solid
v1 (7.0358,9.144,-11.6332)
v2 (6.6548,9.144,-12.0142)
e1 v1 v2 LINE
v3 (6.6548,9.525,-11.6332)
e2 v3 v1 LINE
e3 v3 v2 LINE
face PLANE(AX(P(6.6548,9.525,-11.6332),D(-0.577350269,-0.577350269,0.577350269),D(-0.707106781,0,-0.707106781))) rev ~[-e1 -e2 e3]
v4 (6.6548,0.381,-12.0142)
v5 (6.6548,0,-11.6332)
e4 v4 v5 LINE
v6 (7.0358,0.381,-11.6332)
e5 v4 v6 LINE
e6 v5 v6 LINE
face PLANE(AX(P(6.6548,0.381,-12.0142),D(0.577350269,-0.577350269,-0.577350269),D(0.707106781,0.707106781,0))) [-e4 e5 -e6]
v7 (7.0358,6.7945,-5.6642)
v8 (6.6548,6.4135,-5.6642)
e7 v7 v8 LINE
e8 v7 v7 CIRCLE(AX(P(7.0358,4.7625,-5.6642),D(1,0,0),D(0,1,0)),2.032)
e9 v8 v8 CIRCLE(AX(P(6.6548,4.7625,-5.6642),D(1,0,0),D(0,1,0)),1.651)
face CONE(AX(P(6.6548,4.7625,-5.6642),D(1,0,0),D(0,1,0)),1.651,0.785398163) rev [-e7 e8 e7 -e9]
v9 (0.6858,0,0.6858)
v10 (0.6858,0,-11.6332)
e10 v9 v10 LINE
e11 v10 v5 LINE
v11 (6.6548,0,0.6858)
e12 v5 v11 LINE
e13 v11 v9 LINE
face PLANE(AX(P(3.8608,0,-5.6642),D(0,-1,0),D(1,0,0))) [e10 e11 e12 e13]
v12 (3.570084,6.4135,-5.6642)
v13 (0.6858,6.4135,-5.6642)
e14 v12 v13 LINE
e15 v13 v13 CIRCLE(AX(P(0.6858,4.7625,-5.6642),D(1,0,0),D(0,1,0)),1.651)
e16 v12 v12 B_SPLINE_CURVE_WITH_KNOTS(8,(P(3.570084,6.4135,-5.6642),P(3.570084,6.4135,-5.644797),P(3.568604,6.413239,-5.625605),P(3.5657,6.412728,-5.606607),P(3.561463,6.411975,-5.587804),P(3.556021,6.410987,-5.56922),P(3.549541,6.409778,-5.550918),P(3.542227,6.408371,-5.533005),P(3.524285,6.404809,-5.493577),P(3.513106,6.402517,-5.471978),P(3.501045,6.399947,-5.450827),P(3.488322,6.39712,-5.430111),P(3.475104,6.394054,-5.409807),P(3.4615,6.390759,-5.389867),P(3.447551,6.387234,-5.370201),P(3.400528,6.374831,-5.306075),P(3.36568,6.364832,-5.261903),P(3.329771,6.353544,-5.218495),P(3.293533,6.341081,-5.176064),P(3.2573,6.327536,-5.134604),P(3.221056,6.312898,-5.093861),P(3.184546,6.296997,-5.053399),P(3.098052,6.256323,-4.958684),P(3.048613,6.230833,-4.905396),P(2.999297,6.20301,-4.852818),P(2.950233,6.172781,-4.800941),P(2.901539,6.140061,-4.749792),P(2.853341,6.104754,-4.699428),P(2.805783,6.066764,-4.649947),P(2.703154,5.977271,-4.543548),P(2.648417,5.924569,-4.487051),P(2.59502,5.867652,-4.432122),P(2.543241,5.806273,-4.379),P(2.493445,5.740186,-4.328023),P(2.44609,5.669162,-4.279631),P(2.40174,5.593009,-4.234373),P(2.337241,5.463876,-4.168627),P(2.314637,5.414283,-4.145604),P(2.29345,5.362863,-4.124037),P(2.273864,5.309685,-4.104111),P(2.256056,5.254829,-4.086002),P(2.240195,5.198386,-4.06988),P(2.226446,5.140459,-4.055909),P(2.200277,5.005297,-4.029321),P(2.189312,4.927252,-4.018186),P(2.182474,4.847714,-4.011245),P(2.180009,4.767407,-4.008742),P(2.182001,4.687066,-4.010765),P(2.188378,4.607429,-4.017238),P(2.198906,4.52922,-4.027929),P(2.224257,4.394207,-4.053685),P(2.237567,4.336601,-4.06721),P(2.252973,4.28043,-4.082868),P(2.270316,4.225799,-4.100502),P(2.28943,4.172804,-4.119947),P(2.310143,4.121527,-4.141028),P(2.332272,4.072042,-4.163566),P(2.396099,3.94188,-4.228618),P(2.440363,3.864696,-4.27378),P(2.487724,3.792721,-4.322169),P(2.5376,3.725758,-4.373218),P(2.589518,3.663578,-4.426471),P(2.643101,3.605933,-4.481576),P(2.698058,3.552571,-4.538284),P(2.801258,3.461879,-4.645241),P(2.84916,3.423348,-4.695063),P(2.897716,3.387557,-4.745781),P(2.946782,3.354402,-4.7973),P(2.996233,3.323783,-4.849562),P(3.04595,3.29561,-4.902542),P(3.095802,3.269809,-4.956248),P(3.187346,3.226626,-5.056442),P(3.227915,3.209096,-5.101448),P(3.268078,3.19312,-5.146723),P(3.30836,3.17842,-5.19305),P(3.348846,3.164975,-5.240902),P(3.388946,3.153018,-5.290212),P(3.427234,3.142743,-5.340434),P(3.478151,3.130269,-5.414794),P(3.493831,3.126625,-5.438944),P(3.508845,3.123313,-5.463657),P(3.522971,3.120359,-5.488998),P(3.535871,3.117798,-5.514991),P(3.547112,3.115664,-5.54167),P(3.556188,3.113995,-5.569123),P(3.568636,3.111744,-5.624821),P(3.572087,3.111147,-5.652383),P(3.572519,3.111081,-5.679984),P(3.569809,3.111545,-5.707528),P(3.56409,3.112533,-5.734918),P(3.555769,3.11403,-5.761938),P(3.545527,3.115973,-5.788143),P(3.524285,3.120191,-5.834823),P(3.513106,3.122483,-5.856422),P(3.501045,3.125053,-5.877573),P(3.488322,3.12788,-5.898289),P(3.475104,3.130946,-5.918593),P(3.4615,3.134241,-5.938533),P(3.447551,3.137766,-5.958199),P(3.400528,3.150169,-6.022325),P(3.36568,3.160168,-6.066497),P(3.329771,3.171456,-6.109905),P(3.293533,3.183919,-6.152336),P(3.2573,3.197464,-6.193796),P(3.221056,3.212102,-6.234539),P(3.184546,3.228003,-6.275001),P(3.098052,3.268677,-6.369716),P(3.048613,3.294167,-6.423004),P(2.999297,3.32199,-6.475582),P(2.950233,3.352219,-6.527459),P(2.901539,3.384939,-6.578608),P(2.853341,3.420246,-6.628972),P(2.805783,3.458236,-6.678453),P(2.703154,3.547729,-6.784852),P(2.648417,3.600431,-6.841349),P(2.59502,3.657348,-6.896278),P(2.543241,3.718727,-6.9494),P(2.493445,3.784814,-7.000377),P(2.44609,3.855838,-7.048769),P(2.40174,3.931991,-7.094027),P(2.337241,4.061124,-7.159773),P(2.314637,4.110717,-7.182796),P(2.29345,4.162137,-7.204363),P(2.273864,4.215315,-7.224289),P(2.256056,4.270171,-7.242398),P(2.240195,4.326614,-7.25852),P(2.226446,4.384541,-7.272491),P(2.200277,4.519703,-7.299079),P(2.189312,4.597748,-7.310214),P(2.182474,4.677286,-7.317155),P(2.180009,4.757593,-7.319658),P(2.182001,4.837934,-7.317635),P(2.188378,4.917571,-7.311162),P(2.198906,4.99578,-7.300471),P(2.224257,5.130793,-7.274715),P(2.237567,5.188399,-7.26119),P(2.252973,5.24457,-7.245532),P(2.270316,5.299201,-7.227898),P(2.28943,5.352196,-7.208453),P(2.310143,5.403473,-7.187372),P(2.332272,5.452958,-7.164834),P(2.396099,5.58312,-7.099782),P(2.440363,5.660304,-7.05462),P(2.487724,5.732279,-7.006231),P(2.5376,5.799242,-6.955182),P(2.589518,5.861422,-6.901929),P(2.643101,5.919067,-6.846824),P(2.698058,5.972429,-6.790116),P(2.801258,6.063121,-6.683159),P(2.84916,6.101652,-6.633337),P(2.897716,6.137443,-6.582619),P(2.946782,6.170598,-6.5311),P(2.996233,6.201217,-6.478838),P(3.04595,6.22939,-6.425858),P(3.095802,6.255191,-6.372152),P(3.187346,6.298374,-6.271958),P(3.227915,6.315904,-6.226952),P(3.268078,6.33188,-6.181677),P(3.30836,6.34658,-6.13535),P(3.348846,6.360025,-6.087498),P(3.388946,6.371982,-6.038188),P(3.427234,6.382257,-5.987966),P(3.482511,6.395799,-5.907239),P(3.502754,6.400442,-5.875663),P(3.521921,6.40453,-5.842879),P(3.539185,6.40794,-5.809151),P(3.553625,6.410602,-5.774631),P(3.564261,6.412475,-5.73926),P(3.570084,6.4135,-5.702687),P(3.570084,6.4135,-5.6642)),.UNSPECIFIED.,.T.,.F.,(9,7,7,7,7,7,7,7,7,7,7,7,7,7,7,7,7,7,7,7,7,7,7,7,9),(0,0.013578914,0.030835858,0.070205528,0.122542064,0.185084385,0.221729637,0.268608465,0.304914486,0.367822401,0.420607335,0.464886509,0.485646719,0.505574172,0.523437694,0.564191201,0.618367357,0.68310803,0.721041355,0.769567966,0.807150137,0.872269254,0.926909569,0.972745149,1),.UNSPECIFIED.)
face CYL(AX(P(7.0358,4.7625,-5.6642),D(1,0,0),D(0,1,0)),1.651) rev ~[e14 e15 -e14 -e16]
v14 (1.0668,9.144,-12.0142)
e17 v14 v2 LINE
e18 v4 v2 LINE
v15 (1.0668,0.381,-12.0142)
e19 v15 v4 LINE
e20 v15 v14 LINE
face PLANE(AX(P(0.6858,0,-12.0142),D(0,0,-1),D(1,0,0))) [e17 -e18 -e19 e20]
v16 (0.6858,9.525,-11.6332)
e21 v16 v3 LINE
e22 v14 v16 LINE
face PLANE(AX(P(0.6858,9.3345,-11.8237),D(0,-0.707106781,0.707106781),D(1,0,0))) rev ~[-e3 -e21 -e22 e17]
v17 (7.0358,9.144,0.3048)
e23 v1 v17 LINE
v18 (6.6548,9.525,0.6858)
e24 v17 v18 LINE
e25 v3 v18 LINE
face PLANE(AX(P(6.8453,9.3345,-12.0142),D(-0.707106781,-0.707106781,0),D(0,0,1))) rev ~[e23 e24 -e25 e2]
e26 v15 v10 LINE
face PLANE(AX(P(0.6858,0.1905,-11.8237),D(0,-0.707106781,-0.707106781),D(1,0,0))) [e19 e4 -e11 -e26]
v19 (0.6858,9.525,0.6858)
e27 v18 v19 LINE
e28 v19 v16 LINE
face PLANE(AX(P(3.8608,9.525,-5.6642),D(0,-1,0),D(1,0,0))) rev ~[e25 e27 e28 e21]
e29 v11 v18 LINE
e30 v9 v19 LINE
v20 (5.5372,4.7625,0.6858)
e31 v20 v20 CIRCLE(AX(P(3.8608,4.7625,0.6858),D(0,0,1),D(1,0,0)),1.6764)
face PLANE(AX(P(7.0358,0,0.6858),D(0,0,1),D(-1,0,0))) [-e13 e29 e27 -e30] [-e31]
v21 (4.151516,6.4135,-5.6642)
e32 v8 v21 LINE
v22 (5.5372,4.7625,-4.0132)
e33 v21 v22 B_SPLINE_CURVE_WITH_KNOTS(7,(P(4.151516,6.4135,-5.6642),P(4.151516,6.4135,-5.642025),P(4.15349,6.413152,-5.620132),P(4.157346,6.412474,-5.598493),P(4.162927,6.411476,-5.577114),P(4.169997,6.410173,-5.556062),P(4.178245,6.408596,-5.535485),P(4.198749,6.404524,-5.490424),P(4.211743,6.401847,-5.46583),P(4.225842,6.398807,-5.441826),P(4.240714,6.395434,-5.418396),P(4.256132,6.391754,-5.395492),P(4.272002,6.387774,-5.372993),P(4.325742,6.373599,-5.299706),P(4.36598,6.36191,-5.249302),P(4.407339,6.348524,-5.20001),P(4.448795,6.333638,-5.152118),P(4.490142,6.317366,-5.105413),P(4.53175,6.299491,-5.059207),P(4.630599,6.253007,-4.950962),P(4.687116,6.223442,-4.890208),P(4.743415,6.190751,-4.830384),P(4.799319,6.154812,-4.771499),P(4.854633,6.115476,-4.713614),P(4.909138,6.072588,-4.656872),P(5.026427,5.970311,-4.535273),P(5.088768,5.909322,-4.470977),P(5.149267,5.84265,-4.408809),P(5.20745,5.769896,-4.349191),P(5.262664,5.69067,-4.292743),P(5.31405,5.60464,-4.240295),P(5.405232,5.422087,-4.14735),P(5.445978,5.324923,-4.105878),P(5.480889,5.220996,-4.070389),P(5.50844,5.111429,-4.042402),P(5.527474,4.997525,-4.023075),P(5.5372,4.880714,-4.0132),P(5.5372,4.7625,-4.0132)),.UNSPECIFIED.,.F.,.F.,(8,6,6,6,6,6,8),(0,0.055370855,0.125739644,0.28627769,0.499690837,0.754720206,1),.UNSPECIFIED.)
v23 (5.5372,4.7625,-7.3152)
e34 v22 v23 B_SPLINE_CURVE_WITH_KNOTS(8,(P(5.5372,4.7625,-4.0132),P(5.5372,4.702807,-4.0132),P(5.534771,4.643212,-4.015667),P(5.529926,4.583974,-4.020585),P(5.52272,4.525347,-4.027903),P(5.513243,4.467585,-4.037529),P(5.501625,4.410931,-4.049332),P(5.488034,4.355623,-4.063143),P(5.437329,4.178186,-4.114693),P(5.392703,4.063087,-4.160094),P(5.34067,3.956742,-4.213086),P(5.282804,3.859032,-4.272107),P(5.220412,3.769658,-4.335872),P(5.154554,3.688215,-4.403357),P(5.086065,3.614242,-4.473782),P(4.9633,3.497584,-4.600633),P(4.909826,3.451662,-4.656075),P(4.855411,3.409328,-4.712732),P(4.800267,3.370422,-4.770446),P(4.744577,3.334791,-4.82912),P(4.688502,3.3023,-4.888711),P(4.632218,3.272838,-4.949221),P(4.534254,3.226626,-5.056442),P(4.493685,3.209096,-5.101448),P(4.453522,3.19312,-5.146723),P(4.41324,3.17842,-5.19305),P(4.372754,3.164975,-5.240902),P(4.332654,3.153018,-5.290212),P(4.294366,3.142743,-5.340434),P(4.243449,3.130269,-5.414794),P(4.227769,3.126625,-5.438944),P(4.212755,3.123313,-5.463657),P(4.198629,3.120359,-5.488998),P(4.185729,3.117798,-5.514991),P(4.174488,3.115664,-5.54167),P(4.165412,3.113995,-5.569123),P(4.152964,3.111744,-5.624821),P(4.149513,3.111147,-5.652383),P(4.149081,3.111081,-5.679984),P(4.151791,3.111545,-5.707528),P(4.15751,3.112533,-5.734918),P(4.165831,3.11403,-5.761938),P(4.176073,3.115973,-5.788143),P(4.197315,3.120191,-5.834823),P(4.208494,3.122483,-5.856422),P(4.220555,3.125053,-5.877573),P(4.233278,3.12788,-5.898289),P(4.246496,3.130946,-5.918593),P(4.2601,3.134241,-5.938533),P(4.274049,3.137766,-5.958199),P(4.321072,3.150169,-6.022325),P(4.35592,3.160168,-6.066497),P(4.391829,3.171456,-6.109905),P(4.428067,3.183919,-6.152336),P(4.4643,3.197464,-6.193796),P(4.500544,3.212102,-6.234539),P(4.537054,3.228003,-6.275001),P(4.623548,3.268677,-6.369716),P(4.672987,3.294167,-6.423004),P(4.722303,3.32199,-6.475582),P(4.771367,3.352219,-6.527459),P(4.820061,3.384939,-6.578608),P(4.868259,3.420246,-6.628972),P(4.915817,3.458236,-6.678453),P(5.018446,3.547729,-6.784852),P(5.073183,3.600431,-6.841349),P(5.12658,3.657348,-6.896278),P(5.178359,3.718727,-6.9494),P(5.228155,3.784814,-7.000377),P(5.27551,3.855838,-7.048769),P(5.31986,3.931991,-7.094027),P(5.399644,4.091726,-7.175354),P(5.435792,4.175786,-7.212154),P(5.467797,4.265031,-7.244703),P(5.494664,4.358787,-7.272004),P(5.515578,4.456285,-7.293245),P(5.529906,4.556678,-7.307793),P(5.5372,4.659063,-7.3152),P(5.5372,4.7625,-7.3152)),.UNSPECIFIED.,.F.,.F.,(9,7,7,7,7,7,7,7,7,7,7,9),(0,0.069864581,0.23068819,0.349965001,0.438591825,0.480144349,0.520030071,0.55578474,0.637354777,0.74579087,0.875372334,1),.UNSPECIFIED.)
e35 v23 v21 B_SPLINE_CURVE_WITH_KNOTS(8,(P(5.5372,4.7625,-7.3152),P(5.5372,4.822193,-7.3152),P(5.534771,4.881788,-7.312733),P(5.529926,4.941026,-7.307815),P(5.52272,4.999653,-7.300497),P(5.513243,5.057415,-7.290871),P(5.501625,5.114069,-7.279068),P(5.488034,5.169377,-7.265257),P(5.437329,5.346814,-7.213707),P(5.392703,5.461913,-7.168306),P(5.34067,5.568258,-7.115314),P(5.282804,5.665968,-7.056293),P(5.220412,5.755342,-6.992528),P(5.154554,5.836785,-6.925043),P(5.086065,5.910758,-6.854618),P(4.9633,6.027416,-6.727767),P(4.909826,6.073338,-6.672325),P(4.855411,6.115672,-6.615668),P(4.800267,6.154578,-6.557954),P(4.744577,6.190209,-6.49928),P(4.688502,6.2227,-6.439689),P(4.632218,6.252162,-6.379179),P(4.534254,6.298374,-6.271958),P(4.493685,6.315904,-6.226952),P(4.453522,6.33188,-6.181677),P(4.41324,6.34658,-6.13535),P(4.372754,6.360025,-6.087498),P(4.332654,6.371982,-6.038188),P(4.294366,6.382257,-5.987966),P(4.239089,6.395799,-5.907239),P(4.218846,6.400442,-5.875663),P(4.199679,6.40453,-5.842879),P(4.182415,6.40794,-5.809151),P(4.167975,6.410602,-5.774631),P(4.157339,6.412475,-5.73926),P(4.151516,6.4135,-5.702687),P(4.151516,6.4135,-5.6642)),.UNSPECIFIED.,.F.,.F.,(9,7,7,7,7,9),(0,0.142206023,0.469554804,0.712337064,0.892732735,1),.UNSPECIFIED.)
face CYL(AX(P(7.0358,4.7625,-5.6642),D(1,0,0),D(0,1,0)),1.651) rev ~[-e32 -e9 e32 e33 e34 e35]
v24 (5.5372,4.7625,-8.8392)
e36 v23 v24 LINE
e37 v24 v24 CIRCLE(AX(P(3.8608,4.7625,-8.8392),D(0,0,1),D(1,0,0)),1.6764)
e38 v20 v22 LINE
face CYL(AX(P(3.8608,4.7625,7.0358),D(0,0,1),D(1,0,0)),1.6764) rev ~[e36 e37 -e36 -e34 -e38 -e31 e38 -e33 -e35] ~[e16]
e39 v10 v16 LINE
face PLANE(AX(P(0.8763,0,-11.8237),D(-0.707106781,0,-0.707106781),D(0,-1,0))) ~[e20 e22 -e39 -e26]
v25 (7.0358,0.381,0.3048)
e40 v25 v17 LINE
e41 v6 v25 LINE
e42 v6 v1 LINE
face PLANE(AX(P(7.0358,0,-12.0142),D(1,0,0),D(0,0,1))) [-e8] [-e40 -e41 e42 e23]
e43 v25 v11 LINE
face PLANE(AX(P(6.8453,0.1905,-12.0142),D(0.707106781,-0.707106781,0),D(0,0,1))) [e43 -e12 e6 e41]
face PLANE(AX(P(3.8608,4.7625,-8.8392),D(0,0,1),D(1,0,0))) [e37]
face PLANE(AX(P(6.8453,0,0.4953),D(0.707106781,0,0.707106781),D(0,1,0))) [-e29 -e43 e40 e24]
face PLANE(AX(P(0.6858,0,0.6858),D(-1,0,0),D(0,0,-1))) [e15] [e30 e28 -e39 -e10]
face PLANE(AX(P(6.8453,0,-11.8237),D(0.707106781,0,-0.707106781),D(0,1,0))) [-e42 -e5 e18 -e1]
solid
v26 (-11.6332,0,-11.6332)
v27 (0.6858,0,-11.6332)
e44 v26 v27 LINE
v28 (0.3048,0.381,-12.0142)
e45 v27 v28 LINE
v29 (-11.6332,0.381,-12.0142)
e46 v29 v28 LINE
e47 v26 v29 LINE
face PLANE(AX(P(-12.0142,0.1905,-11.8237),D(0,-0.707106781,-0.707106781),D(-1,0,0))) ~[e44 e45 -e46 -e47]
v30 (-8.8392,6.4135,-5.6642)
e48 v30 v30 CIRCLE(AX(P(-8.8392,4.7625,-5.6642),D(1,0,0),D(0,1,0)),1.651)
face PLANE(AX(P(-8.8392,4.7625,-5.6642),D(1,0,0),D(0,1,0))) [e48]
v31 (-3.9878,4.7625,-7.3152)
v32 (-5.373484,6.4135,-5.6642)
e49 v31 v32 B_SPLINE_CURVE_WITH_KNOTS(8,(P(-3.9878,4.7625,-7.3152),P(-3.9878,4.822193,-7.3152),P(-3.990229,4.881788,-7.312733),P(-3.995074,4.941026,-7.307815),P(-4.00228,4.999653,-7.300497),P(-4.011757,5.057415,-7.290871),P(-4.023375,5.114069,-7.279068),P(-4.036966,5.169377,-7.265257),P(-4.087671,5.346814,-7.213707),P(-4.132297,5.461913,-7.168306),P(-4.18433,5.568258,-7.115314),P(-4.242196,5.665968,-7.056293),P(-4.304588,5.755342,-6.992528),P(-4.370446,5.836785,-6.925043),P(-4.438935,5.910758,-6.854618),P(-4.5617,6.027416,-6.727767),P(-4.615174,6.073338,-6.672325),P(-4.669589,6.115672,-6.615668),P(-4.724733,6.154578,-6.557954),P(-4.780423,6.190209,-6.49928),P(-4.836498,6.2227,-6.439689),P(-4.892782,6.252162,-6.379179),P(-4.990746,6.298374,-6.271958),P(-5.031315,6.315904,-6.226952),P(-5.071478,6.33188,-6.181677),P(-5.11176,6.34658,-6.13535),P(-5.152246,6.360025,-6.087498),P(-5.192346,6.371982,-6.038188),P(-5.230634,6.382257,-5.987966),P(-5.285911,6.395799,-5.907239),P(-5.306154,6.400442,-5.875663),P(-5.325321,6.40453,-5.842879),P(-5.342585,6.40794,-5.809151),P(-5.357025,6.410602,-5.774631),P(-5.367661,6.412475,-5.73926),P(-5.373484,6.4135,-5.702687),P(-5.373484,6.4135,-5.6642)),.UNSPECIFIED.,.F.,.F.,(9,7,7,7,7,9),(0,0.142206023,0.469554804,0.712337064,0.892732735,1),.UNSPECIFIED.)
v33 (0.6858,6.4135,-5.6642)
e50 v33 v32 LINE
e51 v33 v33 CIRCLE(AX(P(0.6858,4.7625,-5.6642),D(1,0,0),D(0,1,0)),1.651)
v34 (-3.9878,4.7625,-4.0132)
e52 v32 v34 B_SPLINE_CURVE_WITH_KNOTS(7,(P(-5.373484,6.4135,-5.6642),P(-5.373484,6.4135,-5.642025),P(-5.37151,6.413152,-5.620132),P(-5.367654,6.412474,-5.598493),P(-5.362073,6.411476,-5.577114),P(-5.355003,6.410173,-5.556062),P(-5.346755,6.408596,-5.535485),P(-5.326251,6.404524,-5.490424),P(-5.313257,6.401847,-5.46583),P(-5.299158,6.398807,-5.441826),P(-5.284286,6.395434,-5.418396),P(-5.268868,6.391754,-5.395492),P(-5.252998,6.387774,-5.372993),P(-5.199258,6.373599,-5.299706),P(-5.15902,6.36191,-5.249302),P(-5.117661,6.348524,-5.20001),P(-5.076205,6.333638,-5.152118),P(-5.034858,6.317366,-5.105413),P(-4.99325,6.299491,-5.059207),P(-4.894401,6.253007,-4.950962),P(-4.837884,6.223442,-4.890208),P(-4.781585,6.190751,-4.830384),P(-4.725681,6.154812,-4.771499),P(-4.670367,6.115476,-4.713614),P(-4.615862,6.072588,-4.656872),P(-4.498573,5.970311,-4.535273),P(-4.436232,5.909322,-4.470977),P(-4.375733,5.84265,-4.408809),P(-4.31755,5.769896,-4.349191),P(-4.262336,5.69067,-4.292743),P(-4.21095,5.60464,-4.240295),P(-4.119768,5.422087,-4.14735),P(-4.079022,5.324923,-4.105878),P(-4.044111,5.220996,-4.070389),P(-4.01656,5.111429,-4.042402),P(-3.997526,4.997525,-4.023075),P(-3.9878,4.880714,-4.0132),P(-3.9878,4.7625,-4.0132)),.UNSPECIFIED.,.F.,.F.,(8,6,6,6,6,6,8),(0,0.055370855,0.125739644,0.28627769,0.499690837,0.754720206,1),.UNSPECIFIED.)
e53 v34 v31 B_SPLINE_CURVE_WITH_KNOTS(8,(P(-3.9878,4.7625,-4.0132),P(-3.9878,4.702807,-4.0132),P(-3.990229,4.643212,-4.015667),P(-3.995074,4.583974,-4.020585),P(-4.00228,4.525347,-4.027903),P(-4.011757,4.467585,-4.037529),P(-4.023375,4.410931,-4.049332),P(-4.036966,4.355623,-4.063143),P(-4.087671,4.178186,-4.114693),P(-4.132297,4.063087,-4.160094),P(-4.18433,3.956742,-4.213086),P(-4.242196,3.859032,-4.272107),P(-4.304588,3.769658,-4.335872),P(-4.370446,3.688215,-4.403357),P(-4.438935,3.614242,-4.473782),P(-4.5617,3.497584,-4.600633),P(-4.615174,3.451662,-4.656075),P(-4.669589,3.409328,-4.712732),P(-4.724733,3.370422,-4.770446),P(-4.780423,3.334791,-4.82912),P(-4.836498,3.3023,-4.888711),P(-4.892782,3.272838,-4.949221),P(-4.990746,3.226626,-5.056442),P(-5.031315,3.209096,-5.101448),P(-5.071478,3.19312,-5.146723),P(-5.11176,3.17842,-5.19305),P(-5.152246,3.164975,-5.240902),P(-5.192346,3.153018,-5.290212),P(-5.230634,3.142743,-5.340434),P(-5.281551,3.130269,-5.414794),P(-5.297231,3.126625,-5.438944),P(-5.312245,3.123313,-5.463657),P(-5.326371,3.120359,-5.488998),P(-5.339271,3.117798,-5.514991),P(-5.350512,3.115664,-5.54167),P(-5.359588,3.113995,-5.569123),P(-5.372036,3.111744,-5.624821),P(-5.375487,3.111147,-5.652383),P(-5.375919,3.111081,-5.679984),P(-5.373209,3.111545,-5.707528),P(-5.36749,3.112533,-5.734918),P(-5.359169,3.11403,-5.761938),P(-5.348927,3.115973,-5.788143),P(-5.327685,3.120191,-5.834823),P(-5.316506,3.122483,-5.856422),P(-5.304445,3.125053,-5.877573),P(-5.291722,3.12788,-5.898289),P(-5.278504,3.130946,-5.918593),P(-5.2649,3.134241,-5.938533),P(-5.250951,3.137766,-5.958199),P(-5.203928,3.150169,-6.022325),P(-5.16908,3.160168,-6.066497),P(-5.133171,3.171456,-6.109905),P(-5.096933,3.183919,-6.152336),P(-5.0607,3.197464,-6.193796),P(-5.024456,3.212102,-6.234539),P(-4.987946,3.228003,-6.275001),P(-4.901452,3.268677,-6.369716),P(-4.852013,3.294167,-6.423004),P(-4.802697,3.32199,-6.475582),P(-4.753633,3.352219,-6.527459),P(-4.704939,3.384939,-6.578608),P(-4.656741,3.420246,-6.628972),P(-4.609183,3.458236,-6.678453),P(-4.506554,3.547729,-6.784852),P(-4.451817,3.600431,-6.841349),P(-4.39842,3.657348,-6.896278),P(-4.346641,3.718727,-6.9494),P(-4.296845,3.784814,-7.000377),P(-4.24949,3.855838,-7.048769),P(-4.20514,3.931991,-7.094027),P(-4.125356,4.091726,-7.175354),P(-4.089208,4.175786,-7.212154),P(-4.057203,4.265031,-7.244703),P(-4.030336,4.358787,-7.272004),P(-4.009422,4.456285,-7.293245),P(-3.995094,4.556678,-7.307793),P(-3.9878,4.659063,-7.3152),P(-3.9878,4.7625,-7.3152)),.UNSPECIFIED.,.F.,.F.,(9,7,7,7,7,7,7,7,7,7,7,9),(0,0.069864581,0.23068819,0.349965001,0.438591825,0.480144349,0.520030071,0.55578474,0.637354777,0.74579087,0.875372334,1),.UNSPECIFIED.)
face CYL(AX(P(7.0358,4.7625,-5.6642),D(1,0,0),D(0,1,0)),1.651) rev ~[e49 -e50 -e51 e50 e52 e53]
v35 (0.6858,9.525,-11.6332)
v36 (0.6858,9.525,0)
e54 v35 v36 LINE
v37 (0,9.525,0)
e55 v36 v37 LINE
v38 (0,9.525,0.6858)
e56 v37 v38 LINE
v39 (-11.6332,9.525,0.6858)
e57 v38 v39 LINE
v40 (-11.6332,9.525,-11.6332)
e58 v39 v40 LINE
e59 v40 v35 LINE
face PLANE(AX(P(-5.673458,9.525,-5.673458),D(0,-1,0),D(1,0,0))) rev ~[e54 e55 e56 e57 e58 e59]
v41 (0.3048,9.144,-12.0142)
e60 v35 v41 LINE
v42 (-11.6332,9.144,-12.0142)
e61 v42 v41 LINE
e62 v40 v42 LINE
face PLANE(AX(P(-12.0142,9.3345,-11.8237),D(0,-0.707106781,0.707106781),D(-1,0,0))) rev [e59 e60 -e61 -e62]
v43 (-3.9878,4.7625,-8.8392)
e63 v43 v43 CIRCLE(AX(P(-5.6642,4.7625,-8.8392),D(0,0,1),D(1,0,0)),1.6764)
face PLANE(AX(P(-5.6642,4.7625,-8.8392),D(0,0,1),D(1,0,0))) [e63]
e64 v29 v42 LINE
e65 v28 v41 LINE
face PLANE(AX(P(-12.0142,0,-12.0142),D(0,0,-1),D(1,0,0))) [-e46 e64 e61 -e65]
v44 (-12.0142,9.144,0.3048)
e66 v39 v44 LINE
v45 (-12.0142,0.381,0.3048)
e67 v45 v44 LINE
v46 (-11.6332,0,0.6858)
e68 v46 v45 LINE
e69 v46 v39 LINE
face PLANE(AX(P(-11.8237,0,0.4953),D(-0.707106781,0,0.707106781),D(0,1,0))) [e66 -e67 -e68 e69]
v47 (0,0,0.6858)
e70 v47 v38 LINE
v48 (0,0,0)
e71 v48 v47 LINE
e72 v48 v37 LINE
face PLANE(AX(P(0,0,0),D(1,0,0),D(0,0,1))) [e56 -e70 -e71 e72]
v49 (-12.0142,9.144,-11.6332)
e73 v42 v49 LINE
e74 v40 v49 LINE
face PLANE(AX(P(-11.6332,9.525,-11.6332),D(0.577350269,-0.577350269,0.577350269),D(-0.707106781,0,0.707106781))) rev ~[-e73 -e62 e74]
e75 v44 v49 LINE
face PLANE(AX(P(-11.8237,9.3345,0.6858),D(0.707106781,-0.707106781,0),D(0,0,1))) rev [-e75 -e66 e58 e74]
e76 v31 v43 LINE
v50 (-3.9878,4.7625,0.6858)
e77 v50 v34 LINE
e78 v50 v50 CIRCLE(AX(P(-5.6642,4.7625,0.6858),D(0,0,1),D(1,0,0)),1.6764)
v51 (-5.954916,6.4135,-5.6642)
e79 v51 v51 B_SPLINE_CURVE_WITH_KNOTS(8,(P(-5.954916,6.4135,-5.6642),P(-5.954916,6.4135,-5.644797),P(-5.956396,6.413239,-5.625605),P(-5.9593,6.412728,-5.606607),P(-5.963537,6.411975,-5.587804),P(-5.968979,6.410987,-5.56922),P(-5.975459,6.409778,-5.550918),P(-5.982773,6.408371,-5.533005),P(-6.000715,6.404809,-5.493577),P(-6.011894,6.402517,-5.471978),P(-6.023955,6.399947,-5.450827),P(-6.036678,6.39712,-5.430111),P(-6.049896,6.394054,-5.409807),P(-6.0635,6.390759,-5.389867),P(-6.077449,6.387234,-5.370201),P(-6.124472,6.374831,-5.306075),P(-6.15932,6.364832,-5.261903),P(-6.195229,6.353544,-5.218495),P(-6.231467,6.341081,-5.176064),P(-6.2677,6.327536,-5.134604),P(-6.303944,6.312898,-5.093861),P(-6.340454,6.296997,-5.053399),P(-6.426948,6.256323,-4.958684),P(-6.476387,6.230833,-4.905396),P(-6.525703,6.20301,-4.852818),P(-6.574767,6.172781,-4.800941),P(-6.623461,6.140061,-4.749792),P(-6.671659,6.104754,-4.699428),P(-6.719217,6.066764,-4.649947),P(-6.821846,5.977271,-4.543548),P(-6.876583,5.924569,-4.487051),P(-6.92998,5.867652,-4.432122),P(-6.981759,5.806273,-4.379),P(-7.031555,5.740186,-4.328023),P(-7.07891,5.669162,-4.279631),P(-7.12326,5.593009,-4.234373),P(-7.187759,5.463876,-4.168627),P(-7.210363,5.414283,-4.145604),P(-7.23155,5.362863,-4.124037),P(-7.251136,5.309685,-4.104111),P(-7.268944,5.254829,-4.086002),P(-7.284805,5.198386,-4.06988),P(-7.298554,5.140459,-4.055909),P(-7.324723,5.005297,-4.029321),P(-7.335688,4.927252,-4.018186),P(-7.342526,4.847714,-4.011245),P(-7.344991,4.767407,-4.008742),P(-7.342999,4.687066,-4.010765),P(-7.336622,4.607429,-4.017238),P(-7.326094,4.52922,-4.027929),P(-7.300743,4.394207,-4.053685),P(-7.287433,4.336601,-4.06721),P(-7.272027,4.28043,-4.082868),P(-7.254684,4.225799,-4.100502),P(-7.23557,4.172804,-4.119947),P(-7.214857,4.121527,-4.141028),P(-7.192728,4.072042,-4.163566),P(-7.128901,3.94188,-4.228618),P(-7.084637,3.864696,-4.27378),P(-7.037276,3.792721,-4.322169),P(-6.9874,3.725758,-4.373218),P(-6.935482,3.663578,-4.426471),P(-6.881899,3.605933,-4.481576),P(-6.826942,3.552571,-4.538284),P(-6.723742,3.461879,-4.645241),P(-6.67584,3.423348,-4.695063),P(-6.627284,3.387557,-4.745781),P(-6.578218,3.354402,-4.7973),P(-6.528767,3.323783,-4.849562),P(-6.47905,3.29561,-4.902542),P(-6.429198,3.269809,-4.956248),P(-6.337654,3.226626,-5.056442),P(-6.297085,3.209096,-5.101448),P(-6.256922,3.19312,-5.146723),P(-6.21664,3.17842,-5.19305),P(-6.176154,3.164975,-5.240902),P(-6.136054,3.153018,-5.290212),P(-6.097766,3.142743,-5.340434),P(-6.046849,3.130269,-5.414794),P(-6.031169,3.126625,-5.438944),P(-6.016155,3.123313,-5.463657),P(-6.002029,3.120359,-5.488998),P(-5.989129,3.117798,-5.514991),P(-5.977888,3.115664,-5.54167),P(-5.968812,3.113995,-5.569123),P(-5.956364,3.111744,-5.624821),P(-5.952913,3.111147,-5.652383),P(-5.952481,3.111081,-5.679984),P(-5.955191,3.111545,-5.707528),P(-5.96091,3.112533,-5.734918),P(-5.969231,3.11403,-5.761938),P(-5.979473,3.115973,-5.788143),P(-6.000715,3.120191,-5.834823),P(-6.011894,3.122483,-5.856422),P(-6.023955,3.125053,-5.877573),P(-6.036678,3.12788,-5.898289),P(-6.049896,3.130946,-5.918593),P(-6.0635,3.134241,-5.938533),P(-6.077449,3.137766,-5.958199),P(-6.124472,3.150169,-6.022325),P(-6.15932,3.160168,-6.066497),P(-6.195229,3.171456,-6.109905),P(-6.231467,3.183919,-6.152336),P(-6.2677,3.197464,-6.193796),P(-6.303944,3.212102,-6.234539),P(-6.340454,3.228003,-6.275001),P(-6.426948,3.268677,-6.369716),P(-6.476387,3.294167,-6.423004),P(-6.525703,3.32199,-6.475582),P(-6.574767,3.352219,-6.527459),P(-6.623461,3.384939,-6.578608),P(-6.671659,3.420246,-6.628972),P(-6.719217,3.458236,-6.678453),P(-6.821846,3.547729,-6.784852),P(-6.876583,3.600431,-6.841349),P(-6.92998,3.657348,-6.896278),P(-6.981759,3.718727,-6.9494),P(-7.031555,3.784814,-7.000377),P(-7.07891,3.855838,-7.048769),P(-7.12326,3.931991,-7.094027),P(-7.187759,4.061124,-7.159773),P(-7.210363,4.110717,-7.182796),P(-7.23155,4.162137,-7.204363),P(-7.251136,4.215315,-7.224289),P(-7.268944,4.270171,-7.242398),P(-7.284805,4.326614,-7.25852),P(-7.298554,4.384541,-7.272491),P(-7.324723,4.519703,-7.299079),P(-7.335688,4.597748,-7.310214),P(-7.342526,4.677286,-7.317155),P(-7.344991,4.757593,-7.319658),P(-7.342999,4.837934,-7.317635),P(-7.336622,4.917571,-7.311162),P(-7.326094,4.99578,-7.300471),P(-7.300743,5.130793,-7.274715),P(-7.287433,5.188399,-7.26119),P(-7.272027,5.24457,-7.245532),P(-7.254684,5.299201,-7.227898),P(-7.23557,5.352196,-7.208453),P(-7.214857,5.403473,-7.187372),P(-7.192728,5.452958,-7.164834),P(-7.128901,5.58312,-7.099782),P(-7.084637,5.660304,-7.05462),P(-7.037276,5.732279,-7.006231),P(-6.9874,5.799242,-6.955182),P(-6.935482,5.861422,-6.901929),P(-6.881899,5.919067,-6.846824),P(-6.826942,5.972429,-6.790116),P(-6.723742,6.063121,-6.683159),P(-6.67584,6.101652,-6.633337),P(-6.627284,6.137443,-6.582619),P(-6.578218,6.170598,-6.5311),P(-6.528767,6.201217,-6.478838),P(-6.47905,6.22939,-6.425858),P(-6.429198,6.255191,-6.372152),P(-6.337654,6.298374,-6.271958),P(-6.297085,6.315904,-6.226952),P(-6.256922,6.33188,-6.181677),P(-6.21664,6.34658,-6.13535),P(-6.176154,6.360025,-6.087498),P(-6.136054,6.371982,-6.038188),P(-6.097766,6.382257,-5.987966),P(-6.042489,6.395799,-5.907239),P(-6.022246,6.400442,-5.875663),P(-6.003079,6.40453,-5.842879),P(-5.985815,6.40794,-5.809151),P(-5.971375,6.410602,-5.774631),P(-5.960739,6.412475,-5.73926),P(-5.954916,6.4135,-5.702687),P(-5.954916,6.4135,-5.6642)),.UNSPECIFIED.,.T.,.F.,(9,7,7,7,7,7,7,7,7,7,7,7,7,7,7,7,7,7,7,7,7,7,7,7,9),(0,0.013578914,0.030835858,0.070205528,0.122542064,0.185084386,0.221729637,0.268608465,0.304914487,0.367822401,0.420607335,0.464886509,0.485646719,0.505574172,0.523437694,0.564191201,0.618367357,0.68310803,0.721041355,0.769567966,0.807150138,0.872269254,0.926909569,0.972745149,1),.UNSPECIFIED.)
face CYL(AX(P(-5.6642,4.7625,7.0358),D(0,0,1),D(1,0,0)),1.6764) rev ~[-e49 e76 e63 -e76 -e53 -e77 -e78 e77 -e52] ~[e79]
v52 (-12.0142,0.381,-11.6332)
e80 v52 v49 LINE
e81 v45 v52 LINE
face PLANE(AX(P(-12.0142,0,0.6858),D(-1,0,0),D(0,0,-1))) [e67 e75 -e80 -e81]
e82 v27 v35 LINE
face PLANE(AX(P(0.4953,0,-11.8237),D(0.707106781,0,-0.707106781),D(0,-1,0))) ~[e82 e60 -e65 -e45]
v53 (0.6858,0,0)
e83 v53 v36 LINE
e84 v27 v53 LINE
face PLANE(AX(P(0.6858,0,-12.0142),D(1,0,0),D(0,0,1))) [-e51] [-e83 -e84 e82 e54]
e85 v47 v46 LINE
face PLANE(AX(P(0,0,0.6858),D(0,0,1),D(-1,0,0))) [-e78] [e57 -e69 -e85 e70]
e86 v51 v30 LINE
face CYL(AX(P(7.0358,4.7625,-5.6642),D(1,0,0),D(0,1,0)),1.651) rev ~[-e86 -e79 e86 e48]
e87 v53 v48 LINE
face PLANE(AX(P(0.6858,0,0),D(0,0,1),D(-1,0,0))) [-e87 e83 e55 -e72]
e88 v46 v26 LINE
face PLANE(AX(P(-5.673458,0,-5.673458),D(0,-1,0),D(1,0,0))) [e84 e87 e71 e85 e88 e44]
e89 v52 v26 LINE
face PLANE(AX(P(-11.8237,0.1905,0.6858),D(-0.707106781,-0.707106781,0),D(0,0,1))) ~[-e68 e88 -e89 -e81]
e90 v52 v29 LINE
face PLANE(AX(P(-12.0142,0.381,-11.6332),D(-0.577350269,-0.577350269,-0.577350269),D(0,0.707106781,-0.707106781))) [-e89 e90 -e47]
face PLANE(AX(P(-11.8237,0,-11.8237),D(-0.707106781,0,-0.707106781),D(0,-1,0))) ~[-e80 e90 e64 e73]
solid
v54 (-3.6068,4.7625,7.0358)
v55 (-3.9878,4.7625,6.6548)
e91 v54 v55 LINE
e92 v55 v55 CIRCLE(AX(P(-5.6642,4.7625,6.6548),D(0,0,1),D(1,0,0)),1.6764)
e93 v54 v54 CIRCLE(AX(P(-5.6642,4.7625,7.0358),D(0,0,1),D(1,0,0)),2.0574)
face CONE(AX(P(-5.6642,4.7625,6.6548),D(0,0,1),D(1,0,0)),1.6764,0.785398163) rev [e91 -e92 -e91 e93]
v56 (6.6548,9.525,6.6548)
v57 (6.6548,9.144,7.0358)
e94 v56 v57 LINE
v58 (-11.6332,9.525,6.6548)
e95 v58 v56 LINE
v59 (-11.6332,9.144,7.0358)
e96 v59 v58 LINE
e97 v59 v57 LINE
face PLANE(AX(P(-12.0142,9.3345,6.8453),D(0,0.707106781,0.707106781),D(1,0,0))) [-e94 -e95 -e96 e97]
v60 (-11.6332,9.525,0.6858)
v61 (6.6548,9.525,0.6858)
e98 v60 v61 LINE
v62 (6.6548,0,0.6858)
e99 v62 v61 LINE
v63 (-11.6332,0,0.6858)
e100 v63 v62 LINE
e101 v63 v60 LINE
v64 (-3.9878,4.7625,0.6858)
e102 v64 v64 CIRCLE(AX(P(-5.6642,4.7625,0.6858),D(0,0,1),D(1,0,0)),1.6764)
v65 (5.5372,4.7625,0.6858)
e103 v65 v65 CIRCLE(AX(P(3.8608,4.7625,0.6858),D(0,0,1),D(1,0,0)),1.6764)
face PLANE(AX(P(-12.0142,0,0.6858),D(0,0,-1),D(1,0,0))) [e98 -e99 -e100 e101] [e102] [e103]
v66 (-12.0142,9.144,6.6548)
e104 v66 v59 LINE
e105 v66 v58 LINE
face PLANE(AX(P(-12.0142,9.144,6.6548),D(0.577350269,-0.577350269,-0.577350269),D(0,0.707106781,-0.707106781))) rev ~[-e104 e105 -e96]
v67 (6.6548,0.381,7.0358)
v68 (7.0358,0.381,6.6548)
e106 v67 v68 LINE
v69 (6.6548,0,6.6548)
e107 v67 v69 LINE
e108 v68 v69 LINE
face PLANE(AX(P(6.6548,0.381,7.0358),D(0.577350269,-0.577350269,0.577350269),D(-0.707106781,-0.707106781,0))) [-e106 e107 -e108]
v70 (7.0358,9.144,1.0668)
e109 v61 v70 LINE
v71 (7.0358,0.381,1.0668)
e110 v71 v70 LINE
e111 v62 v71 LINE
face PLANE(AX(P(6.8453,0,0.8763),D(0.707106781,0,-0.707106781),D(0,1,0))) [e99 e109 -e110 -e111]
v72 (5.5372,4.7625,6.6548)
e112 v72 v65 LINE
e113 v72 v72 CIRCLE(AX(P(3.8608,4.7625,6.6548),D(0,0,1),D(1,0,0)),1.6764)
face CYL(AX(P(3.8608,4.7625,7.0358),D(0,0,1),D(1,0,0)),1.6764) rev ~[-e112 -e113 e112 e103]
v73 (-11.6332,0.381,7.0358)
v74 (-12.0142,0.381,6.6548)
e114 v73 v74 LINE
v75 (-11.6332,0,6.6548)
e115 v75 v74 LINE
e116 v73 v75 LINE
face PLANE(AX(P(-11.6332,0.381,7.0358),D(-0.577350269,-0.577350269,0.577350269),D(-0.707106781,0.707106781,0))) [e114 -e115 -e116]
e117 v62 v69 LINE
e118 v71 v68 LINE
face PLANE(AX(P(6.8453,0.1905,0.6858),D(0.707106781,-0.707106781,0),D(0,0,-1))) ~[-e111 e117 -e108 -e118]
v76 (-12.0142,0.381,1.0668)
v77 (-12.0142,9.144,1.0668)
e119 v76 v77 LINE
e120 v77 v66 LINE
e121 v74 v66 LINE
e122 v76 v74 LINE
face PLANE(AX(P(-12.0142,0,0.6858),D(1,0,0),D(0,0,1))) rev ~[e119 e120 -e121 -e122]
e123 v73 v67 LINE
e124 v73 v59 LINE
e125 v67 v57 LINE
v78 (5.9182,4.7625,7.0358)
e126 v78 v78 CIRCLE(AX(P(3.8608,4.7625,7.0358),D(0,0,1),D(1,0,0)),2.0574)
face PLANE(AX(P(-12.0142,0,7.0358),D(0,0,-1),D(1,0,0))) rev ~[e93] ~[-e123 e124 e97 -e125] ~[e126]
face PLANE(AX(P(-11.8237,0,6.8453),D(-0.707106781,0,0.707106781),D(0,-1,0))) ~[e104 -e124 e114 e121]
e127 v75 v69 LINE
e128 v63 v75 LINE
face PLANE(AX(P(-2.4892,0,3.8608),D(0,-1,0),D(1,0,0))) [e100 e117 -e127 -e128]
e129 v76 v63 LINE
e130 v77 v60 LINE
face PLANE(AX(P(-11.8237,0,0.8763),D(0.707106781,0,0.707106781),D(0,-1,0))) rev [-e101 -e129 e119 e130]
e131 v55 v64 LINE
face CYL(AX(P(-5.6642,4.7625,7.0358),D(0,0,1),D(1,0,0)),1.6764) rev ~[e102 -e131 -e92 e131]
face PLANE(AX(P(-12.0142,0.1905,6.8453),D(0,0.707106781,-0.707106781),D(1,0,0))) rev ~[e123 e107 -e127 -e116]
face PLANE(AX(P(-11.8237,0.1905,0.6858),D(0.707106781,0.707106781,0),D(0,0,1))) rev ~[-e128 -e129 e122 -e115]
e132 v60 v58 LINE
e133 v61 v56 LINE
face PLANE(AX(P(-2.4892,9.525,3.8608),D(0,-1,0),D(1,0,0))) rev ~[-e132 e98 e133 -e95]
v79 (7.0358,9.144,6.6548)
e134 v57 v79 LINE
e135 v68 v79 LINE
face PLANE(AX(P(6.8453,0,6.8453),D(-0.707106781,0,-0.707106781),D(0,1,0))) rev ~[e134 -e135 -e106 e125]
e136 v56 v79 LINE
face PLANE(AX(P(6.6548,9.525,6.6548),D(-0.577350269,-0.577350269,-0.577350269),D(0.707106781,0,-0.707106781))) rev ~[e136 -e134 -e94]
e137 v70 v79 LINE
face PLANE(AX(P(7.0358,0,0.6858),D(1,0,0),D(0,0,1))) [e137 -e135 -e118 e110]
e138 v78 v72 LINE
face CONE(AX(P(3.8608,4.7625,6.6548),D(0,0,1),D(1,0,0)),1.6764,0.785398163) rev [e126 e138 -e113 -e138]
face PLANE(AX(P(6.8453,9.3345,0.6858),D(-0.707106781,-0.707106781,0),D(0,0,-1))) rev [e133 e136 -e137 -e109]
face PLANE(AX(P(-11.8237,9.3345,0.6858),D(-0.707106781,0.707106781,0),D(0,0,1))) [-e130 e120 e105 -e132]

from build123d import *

# Parameters (mm, degrees)
F1_DEPTH   = 9.525
F3_DEPTH   = 9.525
F4_W       = 19.05
F4_H       = 6.35
F5_DEPTH   = 9.525
F6_R       = 1.651
F7_DEPTH   = 15.875
F8_R       = 1.6764
F9_DEPTH   = 15.875
F10_SIZE   = 0.381
F10_2_SIZE = 0.381
F10_3_SIZE = 0.381


with BuildPart() as f1:
    # F0 (on Front) → F1 (new body)
    with BuildSketch(Plane.XZ):
        Polygon((0.6858, 0), (0, 0), (0, 0.6858), (-12.0142, 0.6858), (-12.0142, -12.0142), (0.6858, -12.0142), align=None)
    extrude(amount=-F1_DEPTH)


with BuildPart() as f3:
    # F2 (on Front) → F3 (new body)
    with BuildSketch(Plane.XZ):
        Polygon((0.6858, 0), (0.6858, -12.0142), (7.0358, -12.0142), (7.0358, 0.6858), (0.6858, 0.6858), align=None)
    extrude(amount=-F3_DEPTH)


with BuildPart() as f5:
    # F4 (on Front) → F5 (new body)
    with BuildSketch(Plane.XZ):
        with Locations((-2.4892, 3.8608)):
            Rectangle(F4_W, F4_H)
    extrude(amount=-F5_DEPTH)


with BuildPart() as f7_tool:
    # F6 (on face) → F7 (new body)
    with BuildSketch(Plane.YZ.offset(7.0358)):
        with Locations((4.7625, -5.6642)):
            Circle(F6_R)
    extrude(amount=-F7_DEPTH)


with BuildPart() as f1_1:
    add(f1.part)

    # F7: cut by f7_tool
    add(f7_tool.part, mode=Mode.SUBTRACT)


with BuildPart() as f3_1:
    add(f3.part)

    # F7: cut by f7_tool
    add(f7_tool.part, mode=Mode.SUBTRACT)


with BuildPart() as f9_tool:
    # F8 (on face) → F9 (new body)
    with BuildSketch(Plane.XY.offset(7.0358)):
        with Locations((-5.6642, 4.7625)):
            Circle(F8_R)
        with Locations((3.8608, 4.7625)):
            Circle(F8_R)
    extrude(amount=-F9_DEPTH)


with BuildPart() as f1_2:
    add(f1_1.part)

    # F9: cut by f9_tool
    add(f9_tool.part, mode=Mode.SUBTRACT)

    # F10#3
    f10_3_edges = [f1_2.edges().sort_by_distance(p)[0] for p in [
        (-5.6642, 0, -12.0142),
        (-12.0142, 0, -5.6642),
        (0.6858, 4.7625, -12.0142),
        (-12.0142, 4.7625, -12.0142),
        (-5.6642, 9.525, -12.0142),
        (-12.0142, 9.525, -5.6642),
        (-12.0142, 4.7625, 0.6858),
    ]]
    chamfer(f10_3_edges, length=F10_3_SIZE)


with BuildPart() as f3_2:
    add(f3_1.part)

    # F9: cut by f9_tool
    add(f9_tool.part, mode=Mode.SUBTRACT)

    # F10#2
    f10_2_edges = [f3_2.edges().sort_by_distance(p)[0] for p in [
        (7.0358, 0, -5.6642),
        (3.8608, 0, -12.0142),
        (7.0358, 4.7625, 0.6858),
        (7.0358, 4.7625, -12.0142),
        (7.0358, 9.525, -5.6642),
        (7.0358, 3.1115, -5.6642),
        (0.6858, 4.7625, -12.0142),
        (3.8608, 9.525, -12.0142),
    ]]
    chamfer(f10_2_edges, length=F10_2_SIZE)


with BuildPart() as f5_1:
    add(f5.part)

    # F9: cut by f9_tool
    add(f9_tool.part, mode=Mode.SUBTRACT)

    # F10
    f10_edges = [f5_1.edges().sort_by_distance(p)[0] for p in [
        (7.0358, 0, 3.8608),
        (-12.0142, 0, 3.8608),
        (7.0358, 4.7625, 7.0358),
        (-2.4892, 0, 7.0358),
        (-2.4892, 9.525, 7.0358),
        (-12.0142, 4.7625, 7.0358),
        (2.1844, 4.7625, 7.0358),
        (-7.3406, 4.7625, 7.0358),
        (7.0358, 4.7625, 0.6858),
        (7.0358, 9.525, 3.8608),
        (-12.0142, 4.7625, 0.6858),
        (-12.0142, 9.525, 3.8608),
    ]]
    chamfer(f10_edges, length=F10_SIZE)


solid = Compound([f1_2.part, f3_2.part, f5_1.part])
